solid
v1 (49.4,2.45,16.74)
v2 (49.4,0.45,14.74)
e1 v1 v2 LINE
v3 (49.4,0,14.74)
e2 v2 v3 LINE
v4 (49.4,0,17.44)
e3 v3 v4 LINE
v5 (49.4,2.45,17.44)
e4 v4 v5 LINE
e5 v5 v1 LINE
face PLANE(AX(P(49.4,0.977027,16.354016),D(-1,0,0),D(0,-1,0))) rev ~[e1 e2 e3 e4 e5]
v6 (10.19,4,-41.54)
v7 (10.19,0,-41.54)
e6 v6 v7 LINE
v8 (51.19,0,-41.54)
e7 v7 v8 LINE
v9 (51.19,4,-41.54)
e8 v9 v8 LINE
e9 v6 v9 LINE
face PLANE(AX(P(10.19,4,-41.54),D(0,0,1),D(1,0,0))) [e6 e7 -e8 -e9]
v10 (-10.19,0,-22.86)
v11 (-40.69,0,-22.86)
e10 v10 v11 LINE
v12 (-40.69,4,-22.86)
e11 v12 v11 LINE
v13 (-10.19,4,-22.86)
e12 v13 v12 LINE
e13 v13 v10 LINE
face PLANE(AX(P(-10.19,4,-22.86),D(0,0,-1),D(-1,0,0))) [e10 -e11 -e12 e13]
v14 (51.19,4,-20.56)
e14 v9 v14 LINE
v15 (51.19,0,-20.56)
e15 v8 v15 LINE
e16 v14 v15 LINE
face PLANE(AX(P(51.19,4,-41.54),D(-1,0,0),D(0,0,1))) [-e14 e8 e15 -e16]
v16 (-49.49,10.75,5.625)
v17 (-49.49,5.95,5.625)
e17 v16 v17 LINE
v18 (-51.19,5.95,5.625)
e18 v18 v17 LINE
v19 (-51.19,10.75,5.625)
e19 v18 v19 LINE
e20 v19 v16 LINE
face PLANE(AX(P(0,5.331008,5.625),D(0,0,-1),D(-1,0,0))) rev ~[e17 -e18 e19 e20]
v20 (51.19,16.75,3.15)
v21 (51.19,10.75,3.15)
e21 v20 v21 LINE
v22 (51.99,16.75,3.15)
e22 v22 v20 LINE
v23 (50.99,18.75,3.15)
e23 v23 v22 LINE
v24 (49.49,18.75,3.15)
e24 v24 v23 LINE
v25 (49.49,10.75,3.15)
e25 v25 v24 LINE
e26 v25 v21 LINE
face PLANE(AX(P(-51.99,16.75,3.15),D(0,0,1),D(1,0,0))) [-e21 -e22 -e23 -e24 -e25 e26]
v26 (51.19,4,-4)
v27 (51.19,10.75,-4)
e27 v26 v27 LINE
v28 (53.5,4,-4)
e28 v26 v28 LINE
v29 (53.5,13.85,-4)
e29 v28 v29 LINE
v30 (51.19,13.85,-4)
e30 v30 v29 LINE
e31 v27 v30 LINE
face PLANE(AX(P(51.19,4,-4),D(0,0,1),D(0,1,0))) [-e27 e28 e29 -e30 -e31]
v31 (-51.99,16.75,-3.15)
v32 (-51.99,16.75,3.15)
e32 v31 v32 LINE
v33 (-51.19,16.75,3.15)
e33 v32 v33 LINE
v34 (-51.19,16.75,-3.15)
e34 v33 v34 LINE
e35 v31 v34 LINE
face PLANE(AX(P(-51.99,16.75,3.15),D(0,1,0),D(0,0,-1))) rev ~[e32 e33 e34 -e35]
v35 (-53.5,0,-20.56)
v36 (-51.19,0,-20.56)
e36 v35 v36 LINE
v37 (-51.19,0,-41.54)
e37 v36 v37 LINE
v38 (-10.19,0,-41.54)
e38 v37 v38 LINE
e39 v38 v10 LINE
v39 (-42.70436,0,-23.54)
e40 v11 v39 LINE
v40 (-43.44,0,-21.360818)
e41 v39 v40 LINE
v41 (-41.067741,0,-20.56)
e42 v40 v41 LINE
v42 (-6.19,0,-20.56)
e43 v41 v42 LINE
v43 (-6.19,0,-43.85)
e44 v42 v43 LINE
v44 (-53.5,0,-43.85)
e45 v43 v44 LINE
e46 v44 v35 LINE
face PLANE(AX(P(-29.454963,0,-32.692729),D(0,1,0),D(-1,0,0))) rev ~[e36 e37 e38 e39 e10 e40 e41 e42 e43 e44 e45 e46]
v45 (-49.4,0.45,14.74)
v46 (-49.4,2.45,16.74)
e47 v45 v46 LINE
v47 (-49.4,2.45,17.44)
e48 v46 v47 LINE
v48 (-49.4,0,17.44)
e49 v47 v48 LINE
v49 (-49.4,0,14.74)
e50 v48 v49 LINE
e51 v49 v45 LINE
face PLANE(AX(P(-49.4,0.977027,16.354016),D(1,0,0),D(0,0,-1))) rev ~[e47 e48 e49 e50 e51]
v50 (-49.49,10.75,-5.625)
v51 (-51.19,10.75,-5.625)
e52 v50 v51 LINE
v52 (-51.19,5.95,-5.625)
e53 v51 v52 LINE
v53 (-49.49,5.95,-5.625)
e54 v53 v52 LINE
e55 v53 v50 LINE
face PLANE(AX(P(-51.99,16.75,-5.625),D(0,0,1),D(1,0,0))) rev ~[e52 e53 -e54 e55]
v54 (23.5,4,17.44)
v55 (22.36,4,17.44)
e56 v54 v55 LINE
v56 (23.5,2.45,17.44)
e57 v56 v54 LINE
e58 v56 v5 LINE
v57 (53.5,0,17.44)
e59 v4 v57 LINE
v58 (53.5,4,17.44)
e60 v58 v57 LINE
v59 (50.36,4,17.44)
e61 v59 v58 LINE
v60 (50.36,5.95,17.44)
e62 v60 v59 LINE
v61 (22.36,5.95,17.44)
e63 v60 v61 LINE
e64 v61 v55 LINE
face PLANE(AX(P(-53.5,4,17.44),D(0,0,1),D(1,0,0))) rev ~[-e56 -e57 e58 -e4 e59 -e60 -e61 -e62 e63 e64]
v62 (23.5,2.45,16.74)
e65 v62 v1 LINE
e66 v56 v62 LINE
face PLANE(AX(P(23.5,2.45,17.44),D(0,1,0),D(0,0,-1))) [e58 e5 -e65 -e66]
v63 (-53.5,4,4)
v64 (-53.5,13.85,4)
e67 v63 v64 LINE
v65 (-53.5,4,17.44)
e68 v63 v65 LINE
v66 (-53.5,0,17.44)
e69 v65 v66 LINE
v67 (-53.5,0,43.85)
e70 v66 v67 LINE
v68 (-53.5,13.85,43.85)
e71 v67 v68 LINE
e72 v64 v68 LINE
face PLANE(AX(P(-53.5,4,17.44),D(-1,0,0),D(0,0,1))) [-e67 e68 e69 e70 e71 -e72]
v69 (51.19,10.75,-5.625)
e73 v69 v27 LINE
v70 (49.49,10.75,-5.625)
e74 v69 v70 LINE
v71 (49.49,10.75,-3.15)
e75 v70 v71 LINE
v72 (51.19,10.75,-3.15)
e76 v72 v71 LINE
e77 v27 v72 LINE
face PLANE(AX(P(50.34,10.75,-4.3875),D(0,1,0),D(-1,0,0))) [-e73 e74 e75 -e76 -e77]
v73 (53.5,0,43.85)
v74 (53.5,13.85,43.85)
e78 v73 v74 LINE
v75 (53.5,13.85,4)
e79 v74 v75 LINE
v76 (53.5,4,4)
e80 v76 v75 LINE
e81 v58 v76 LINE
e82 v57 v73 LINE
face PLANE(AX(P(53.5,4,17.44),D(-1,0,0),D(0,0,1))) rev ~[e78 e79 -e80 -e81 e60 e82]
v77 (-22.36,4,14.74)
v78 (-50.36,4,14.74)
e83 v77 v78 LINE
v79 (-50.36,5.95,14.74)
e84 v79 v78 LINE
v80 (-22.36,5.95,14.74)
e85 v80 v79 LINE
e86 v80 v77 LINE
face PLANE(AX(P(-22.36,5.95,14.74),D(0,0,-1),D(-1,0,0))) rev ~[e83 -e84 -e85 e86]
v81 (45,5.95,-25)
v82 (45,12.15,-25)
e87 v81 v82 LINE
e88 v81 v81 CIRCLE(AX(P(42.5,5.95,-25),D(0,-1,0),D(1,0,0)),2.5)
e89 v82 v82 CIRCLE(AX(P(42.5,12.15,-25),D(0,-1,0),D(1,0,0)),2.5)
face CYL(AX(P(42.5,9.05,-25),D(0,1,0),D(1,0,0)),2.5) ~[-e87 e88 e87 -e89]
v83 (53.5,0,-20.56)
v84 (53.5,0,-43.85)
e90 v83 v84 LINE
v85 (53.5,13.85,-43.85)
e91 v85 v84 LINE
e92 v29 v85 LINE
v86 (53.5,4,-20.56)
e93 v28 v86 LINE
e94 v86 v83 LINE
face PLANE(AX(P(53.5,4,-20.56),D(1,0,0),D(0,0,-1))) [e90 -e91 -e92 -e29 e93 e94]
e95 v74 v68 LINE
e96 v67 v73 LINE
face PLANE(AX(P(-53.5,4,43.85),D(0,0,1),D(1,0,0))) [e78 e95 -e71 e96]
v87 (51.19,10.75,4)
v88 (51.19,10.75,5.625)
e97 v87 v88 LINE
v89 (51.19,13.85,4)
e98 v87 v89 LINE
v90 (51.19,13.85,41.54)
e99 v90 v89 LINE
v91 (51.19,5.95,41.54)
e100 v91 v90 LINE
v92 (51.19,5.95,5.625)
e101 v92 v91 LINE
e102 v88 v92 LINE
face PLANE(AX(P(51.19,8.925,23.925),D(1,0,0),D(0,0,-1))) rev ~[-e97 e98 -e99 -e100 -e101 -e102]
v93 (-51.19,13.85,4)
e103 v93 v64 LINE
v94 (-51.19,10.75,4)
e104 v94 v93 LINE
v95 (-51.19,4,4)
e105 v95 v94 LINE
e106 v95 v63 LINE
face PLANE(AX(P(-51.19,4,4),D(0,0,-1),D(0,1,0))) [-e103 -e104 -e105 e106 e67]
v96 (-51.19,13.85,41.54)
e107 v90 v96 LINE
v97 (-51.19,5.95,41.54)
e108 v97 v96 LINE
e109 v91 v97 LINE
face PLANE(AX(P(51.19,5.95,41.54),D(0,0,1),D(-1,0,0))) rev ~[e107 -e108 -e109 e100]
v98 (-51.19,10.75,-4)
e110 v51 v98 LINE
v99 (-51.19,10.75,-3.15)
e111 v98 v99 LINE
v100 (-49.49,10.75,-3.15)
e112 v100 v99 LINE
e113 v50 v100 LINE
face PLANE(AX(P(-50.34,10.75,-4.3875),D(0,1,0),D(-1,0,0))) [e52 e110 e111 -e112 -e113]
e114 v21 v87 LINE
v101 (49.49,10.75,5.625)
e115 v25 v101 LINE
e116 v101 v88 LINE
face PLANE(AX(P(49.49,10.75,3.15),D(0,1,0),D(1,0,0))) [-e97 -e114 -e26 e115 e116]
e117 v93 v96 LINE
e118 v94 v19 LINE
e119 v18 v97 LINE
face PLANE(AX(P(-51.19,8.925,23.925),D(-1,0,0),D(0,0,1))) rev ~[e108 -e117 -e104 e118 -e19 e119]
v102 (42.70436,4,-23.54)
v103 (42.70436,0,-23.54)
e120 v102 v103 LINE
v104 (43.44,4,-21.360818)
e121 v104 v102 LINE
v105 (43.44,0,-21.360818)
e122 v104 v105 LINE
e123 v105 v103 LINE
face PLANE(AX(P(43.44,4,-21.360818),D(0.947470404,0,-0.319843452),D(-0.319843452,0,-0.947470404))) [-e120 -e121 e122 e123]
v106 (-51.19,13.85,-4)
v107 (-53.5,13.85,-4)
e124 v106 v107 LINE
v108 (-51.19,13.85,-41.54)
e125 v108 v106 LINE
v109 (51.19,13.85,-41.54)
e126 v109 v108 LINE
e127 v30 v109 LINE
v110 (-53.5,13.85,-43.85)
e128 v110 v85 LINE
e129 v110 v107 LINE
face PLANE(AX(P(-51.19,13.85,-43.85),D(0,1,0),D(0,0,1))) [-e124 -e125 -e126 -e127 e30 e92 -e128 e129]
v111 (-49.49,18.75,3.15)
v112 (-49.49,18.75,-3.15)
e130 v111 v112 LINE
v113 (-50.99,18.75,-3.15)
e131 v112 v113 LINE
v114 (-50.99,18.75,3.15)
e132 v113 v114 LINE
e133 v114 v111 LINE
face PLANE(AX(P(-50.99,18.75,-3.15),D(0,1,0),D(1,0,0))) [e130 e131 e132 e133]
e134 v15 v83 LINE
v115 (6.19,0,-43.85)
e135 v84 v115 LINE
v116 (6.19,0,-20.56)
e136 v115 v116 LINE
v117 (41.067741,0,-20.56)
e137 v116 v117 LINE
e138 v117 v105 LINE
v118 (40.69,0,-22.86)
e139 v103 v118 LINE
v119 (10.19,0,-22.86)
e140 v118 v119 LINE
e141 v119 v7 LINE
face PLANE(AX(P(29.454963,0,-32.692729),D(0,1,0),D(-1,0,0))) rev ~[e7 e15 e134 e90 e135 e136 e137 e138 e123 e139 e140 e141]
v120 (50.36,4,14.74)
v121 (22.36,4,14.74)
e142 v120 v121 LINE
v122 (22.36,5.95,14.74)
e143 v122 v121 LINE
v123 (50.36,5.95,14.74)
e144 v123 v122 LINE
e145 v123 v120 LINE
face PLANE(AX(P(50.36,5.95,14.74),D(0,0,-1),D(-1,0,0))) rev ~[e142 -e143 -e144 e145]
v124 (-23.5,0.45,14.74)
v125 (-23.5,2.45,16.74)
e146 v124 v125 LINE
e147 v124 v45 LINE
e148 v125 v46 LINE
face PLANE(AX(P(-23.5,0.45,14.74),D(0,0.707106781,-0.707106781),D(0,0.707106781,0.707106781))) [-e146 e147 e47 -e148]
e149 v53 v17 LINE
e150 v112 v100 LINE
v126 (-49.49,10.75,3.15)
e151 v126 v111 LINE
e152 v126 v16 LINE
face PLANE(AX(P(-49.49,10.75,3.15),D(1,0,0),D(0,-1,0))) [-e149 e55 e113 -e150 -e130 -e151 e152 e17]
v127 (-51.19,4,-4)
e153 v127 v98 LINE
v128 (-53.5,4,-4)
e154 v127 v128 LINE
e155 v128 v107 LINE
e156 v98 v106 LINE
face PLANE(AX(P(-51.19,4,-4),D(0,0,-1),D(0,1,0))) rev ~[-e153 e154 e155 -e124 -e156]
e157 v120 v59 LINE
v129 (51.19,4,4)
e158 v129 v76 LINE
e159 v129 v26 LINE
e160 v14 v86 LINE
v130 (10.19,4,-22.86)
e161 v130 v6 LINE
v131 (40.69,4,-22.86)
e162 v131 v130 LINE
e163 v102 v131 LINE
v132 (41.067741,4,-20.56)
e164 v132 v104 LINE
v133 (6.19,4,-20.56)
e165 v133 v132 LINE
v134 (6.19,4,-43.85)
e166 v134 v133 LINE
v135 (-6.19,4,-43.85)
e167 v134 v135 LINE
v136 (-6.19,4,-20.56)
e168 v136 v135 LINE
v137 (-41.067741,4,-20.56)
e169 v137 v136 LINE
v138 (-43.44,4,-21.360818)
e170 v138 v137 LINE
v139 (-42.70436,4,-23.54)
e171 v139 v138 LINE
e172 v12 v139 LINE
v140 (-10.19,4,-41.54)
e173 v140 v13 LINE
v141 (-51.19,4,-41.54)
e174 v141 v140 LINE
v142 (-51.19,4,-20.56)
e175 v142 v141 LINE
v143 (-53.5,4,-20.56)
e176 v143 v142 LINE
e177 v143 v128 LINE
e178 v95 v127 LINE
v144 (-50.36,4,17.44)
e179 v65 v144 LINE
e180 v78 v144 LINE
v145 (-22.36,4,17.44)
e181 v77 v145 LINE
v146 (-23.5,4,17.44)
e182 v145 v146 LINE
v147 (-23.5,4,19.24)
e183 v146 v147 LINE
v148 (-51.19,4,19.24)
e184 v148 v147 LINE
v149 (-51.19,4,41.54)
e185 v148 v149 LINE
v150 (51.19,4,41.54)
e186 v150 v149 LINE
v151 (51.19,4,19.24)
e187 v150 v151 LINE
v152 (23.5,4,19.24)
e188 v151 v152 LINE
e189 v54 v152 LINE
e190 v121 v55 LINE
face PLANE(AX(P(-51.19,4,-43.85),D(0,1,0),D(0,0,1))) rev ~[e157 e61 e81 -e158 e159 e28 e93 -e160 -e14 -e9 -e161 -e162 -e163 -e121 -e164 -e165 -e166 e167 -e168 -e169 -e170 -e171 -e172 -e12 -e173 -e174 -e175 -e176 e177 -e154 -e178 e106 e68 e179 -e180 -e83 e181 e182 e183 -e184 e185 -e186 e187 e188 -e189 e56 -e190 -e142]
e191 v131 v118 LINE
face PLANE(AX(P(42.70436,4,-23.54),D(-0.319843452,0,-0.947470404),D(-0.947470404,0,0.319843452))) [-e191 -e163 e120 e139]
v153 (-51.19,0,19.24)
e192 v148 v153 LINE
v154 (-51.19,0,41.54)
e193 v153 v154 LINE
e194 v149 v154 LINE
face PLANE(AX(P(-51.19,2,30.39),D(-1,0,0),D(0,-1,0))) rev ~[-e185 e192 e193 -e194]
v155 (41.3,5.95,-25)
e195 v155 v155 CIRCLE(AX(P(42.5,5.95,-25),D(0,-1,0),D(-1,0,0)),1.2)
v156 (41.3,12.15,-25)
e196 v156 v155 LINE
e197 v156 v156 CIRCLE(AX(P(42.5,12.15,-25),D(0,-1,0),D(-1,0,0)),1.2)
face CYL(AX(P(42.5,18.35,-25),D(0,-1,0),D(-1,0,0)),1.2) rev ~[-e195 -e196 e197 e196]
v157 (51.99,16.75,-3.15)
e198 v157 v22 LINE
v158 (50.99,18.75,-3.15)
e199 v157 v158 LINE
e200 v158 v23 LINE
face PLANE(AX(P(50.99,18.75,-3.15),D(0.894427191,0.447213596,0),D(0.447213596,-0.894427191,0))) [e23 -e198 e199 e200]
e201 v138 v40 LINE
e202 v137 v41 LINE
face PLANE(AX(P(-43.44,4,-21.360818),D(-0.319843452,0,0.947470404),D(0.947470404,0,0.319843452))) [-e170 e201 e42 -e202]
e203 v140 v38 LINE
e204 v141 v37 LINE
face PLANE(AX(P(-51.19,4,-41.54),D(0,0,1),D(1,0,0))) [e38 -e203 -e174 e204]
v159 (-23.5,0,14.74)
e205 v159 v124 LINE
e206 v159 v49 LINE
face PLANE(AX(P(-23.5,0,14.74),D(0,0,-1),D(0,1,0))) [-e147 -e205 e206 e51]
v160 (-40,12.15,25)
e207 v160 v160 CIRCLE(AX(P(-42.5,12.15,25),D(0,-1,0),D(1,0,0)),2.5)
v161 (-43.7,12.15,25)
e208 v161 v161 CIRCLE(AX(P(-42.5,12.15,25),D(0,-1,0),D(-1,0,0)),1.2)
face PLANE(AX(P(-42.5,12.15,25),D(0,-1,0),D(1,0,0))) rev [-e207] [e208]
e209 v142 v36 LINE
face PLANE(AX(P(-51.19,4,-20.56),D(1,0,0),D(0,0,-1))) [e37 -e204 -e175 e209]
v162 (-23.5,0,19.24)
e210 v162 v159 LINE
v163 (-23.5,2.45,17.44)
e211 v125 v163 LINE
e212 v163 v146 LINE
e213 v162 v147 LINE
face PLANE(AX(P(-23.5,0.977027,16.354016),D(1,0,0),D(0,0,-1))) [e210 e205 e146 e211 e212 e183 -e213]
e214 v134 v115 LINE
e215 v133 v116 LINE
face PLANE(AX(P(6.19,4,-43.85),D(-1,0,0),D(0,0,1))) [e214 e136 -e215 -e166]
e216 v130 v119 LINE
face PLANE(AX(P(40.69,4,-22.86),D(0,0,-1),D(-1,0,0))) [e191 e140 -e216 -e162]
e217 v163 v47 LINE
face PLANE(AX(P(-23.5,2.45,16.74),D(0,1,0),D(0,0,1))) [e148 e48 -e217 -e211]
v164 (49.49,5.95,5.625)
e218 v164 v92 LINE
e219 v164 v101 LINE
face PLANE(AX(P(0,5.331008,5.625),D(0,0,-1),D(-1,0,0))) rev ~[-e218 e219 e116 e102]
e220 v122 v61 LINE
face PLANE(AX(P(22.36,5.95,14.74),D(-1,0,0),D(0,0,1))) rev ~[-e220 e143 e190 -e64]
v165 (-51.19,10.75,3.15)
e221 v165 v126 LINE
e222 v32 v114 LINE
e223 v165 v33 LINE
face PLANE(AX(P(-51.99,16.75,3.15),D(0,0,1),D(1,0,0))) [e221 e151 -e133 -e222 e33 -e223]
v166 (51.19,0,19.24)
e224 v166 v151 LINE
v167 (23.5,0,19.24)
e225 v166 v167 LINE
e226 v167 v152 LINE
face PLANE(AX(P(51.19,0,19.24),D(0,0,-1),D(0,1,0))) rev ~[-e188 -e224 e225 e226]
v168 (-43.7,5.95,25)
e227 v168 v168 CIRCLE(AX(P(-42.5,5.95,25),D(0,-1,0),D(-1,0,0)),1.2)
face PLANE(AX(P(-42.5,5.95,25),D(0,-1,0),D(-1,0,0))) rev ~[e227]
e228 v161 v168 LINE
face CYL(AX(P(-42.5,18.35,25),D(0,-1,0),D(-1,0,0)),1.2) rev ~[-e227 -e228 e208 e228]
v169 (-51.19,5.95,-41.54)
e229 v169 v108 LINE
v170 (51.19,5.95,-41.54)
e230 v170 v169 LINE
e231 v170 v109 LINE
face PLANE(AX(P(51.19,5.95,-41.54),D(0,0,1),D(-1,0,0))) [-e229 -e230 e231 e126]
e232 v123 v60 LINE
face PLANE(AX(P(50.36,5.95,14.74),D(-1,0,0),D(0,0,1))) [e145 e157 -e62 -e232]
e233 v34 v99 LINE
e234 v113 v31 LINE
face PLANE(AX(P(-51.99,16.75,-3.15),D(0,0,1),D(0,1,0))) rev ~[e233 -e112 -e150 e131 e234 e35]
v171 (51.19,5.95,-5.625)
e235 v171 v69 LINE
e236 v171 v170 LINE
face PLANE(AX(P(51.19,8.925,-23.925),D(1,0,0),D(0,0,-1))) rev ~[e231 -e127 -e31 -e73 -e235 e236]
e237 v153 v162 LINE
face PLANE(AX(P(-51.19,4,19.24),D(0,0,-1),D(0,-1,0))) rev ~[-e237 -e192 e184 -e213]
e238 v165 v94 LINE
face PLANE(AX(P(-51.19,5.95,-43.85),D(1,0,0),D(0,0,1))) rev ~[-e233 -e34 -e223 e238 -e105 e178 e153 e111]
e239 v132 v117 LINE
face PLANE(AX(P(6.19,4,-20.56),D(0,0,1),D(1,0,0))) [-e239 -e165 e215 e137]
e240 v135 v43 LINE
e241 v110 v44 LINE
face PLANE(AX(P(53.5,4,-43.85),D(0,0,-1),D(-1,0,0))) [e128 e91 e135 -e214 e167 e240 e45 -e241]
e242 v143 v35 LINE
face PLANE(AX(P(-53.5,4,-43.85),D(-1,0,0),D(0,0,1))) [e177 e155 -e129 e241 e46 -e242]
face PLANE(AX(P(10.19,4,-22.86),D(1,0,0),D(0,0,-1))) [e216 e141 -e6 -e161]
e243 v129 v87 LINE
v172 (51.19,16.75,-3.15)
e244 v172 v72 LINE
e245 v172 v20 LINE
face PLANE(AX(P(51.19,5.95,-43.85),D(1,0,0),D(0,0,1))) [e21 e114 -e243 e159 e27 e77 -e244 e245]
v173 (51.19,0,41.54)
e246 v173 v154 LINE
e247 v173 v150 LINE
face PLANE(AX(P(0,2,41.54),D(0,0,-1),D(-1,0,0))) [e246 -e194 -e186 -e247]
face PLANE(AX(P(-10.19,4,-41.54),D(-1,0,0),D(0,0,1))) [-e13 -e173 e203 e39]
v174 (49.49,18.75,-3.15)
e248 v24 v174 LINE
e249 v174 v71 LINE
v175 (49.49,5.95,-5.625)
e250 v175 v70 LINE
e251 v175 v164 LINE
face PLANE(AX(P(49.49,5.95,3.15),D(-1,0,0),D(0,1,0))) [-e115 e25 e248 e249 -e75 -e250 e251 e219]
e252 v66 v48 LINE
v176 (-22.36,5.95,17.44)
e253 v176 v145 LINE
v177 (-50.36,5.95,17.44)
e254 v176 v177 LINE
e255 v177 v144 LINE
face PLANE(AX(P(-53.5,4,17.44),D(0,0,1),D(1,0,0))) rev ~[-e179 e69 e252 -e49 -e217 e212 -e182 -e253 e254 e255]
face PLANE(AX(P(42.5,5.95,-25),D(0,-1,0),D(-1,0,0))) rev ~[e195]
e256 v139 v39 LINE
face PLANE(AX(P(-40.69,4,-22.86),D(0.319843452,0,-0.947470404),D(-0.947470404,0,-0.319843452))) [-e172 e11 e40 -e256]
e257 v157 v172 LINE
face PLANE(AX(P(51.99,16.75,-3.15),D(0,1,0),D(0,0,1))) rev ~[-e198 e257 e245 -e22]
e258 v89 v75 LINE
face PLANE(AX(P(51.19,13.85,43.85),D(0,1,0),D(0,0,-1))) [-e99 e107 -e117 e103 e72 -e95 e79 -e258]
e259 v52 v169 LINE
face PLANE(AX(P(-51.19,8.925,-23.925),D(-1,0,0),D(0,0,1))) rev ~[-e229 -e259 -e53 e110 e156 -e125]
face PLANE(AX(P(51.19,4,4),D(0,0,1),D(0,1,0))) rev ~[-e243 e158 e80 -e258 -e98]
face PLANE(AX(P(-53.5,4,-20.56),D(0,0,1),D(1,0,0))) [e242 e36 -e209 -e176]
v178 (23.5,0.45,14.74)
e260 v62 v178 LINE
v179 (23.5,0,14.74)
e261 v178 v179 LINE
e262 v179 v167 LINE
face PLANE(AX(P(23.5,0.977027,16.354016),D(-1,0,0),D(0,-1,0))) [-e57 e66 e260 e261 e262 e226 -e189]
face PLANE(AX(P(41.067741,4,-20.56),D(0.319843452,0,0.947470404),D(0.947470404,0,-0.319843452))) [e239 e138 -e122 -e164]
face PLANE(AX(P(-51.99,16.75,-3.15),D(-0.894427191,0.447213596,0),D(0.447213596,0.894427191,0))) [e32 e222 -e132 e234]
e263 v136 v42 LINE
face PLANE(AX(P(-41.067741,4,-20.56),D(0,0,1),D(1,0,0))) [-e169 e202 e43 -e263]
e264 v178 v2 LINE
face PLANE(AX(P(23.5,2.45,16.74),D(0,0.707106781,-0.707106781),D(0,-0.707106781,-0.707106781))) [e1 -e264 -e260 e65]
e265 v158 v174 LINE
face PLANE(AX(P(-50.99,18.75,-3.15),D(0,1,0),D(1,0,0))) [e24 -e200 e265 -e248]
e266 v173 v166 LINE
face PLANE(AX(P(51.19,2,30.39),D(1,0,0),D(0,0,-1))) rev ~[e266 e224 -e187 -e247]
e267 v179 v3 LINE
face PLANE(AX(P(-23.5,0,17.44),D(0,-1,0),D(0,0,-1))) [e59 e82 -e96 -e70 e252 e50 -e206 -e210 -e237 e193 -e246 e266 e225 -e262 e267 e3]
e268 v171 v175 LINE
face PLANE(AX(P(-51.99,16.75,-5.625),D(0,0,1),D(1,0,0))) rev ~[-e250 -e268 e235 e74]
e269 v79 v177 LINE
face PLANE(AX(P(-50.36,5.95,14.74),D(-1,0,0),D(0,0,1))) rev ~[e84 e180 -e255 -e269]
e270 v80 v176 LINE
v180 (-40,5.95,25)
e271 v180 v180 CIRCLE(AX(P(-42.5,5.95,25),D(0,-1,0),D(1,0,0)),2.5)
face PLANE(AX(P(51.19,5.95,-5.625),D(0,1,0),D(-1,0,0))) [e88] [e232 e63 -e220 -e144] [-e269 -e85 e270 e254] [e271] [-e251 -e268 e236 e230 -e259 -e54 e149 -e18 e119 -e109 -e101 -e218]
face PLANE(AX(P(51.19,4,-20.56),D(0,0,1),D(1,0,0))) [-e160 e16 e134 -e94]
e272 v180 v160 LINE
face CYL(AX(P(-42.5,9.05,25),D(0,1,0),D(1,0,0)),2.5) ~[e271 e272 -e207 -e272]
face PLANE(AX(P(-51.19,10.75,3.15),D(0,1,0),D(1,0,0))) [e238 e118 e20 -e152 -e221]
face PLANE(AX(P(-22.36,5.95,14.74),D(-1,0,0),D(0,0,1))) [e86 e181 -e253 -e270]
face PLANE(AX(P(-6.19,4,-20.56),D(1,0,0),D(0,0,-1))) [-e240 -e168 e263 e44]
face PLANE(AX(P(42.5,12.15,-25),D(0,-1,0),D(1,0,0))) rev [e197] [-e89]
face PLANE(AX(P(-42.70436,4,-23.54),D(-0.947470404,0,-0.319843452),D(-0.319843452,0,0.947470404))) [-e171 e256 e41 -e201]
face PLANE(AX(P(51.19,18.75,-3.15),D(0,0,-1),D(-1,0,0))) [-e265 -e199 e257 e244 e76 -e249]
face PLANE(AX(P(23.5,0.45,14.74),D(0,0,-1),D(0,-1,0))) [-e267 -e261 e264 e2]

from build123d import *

# Parameters (mm, degrees)
CROQUIS1_W                          = 103.98
CROQUIS1_H                          = 2.475
SALIENTE_EXTRUIR1_DEPTH             = 2
SALIENTE_EXTRUIR2_DEPTH             = 6.3
CROQUIS3_W                          = 103.98
CROQUIS3_H                          = 8.775
SALIENTE_EXTRUIR3_DEPTH             = 12.75
CORTAR_EXTRUIR1_DEPTH               = 0.8
CORTAR_EXTRUIR2_DEPTH               = 0.8
CROQUIS6_W                          = 8.775
CROQUIS6_H                          = 12.8
CORTAR_EXTRUIR3_DEPTH               = 98.98
CROQUIS7_W                          = 1.7
CROQUIS7_H                          = 2.475
CORTAR_EXTRUIR4_DEPTH               = 2
CROQUIS8_W                          = 1.7
CROQUIS8_H                          = 2.475
CORTAR_EXTRUIR5_DEPTH               = 6
CROQUIS9_W                          = 1.7
CROQUIS9_H                          = 2.475
CORTAR_EXTRUIR6_DEPTH               = 6
SALIENTE_EXTRUIR4_DEPTH             = 2.475
CROQUIS11_W                         = 102.38
CROQUIS11_H                         = 1.95
SALIENTE_EXTRUIR5_DEPTH             = 38.225
CROQUIS12_W                         = 102.38
CROQUIS12_H                         = 2.31
SALIENTE_EXTRUIR6_DEPTH             = 7.9
CROQUIS13_W                         = 102.38
CROQUIS13_H                         = 1.95
SALIENTE_EXTRUIR7_DEPTH             = 38.225
CROQUIS14_W                         = 39.85
CROQUIS14_H                         = 9.85
SALIENTE_EXTRUIR8_DEPTH             = 2.31
CROQUIS15_W                         = 39.85
CROQUIS15_H                         = 9.85
SALIENTE_EXTRUIR9_DEPTH             = 2.31
CROQUIS16_W                         = 28
CROQUIS16_H                         = 2.7
CORTAR_EXTRUIR7_DEPTH               = 2.95
CROQUIS17_W                         = 28
CROQUIS17_H                         = 2.7
CORTAR_EXTRUIR8_DEPTH               = 2.95
CROQUIS18_W                         = 107
CROQUIS18_H                         = 26.41
SALIENTE_EXTRUIR10_DEPTH            = 4
CROQUIS19_W                         = 102.38
CROQUIS19_H                         = 2.31
SALIENTE_EXTRUIR11_DEPTH            = 7.9
CROQUIS20_W                         = 39.85
CROQUIS20_H                         = 9.85
SALIENTE_EXTRUIR12_DEPTH            = 2.31
CROQUIS21_W                         = 39.85
CROQUIS21_H                         = 9.85
SALIENTE_EXTRUIR13_DEPTH            = 2.31
SALIENTE_EXTRUIR14_DEPTH            = 4
SALIENTE_EXTRUIR15_DEPTH            = 4
CROQUIS24_W                         = 47
CROQUIS24_H                         = 4
CORTAR_EXTRUIR9_DEPTH               = 24.1
CORTAR_EXTRUIR10_REACH              = 106.69
CROQUIS25_W                         = 22.3
CROQUIS25_H                         = 4
CORTAR_EXTRUIR11_REACH              = 106.69
CROQUIS26_W                         = 4
CROQUIS26_H                         = 22.3
SALIENTE_EXTRUIR16_DEPTH            = 25.9
SALIENTE_EXTRUIR17_DEPTH            = 25.9
CROQUIS29_W                         = 2.5
CROQUIS29_H                         = 6.2
CROQUIS30_W                         = 2.5
CROQUIS30_H                         = 6.2
DI_METRO_DE_TALADRO_2_4_2_4_1_D     = 2.4
DI_METRO_DE_TALADRO_2_4_2_4_1_DEPTH = 6.2


with BuildPart() as part:
    # Croquis1 → Saliente-Extruir1 (new body)
    with BuildSketch(Plane(origin=(0, 18.75, 0), x_dir=(1, 0, 0), z_dir=(0, 1, 0))):
        with Locations((0, 4.3875)):
            Rectangle(CROQUIS1_W, CROQUIS1_H)
    extrude(amount=-SALIENTE_EXTRUIR1_DEPTH)

    # Croquis2 → Saliente-Extruir2 (add)
    with BuildSketch(Plane.XY.offset(-3.15)):
        Polygon((-51.99, 16.75), (-50.99, 18.75), (50.99, 18.75), (51.99, 16.75), align=None)
    extrude(amount=SALIENTE_EXTRUIR2_DEPTH)

    # Croquis3 → Saliente-Extruir3 (add)
    with BuildSketch(Plane.XZ.offset(-16.75)):
        with Locations((0, -1.2375)):
            Rectangle(CROQUIS3_W, CROQUIS3_H)
    extrude(amount=SALIENTE_EXTRUIR3_DEPTH)

    # Croquis4 → Cortar-Extruir1 (cut)
    with BuildSketch(Plane(origin=(51.99, 0, 0), x_dir=(0, 0, -1), z_dir=(1, 0, 0))):
        Polygon((5.625, 4), (5.625, 18.75), (3.15, 18.75), (3.15, 18.35), (3.15, 16.75), (-3.15, 16.75), (-3.15, 4), align=None)
    extrude(amount=-CORTAR_EXTRUIR1_DEPTH, mode=Mode.SUBTRACT)

    # Croquis5 → Cortar-Extruir2 (cut)
    with BuildSketch(Plane.ZY.offset(51.99)):
        Polygon((-5.625, 4), (3.15, 4), (3.15, 16.75), (-3.15, 16.75), (-3.15, 18.35), (-3.15, 18.75), (-5.625, 18.75), align=None)
    extrude(amount=-CORTAR_EXTRUIR2_DEPTH, mode=Mode.SUBTRACT)

    # Croquis6 → Cortar-Extruir3 (cut)
    with BuildSketch(Plane(origin=(49.49, 0, 0), x_dir=(0, 0, -1), z_dir=(1, 0, 0))):
        with Locations((1.2375, 12.35)):
            Rectangle(CROQUIS6_W, CROQUIS6_H)
    extrude(amount=-CORTAR_EXTRUIR3_DEPTH, mode=Mode.SUBTRACT)

    # Croquis7 → Cortar-Extruir4 (cut)
    with BuildSketch(Plane(origin=(0, 18.75, 0), x_dir=(-1, 0, 0), z_dir=(0, 1, 0))):
        with Locations((50.34, -4.3875)):
            Rectangle(CROQUIS7_W, CROQUIS7_H)
        with Locations((-50.34, -4.3875)):
            Rectangle(CROQUIS7_W, CROQUIS7_H)
    extrude(amount=-CORTAR_EXTRUIR4_DEPTH, mode=Mode.SUBTRACT)

    # Croquis8 → Cortar-Extruir5 (cut)
    with BuildSketch(Plane(origin=(0, 16.75, 0), x_dir=(-1, 0, 0), z_dir=(0, 1, 0))):
        with Locations((-50.34, -4.3875)):
            Rectangle(CROQUIS8_W, CROQUIS8_H)
    extrude(amount=-CORTAR_EXTRUIR5_DEPTH, mode=Mode.SUBTRACT)

    # Croquis9 → Cortar-Extruir6 (cut)
    with BuildSketch(Plane(origin=(0, 16.75, 0), x_dir=(-1, 0, 0), z_dir=(0, 1, 0))):
        with Locations((50.34, -4.3875)):
            Rectangle(CROQUIS9_W, CROQUIS9_H)
    extrude(amount=-CORTAR_EXTRUIR6_DEPTH, mode=Mode.SUBTRACT)

    # Croquis10 → Saliente-Extruir4 (add)
    with BuildSketch(Plane.XY.offset(3.15)):
        Polygon((49.49, 5.95), (49.49, 10.75), (51.19, 10.75), (51.19, 4), (-51.19, 4), (-51.19, 10.75), (-49.49, 10.75), (-49.49, 5.95), align=None)
    extrude(amount=SALIENTE_EXTRUIR4_DEPTH)

    # Croquis11 → Saliente-Extruir5 (add)
    with BuildSketch(Plane.XY.offset(5.625)):
        with Locations((0, 4.975)):
            Rectangle(CROQUIS11_W, CROQUIS11_H)
    extrude(amount=SALIENTE_EXTRUIR5_DEPTH)

    # Croquis12 → Saliente-Extruir6 (add)
    with BuildSketch(Plane(origin=(0, 5.95, 0), x_dir=(-1, 0, 0), z_dir=(0, 1, 0))):
        with Locations((0, 42.695)):
            Rectangle(CROQUIS12_W, CROQUIS12_H)
    extrude(amount=SALIENTE_EXTRUIR6_DEPTH)

    # Croquis13 → Saliente-Extruir7 (add)
    with BuildSketch(Plane(origin=(0, 0, -5.625), x_dir=(-1, 0, 0), z_dir=(0, 0, -1))):
        with Locations((0, 4.975)):
            Rectangle(CROQUIS13_W, CROQUIS13_H)
    extrude(amount=SALIENTE_EXTRUIR7_DEPTH)

    # Croquis14 → Saliente-Extruir8 (add)
    with BuildSketch(Plane.ZY.offset(51.19)):
        with Locations((23.925, 8.925)):
            Rectangle(CROQUIS14_W, CROQUIS14_H)
    extrude(amount=SALIENTE_EXTRUIR8_DEPTH)

    # Croquis15 → Saliente-Extruir9 (add)
    with BuildSketch(Plane(origin=(51.19, 0, 0), x_dir=(0, 0, -1), z_dir=(1, 0, 0))):
        with Locations((-23.925, 8.925)):
            Rectangle(CROQUIS15_W, CROQUIS15_H)
    extrude(amount=SALIENTE_EXTRUIR9_DEPTH)

    # Croquis16 → Cortar-Extruir7 (cut, through all)
    with BuildSketch(Plane(origin=(0, 5.95, 0), x_dir=(-1, 0, 0), z_dir=(0, 1, 0))):
        with Locations((36.36, 16.09)):
            Rectangle(CROQUIS16_W, CROQUIS16_H)
    extrude(amount=-CORTAR_EXTRUIR7_DEPTH, mode=Mode.SUBTRACT)

    # Croquis17 → Cortar-Extruir8 (cut, through all)
    with BuildSketch(Plane(origin=(0, 5.95, 0), x_dir=(-1, 0, 0), z_dir=(0, 1, 0))):
        with Locations((-36.36, 16.09)):
            Rectangle(CROQUIS17_W, CROQUIS17_H)
    extrude(amount=-CORTAR_EXTRUIR8_DEPTH, mode=Mode.SUBTRACT)

    # Croquis18 → Saliente-Extruir10 (add)
    with BuildSketch(Plane.XZ.offset(-4)):
        with Locations((0, 30.645)):
            Rectangle(CROQUIS18_W, CROQUIS18_H)
    extrude(amount=SALIENTE_EXTRUIR10_DEPTH)

    # Croquis19 → Saliente-Extruir11 (add)
    with BuildSketch(Plane(origin=(0, 5.95, 0), x_dir=(-1, 0, 0), z_dir=(0, 1, 0))):
        with Locations((0, -42.695)):
            Rectangle(CROQUIS19_W, CROQUIS19_H)
    extrude(amount=SALIENTE_EXTRUIR11_DEPTH)

    # Croquis20 → Saliente-Extruir12 (add)
    with BuildSketch(Plane(origin=(51.19, 0, 0), x_dir=(0, 0, -1), z_dir=(1, 0, 0))):
        with Locations((23.925, 8.925)):
            Rectangle(CROQUIS20_W, CROQUIS20_H)
    extrude(amount=SALIENTE_EXTRUIR12_DEPTH)

    # Croquis21 → Saliente-Extruir13 (add)
    with BuildSketch(Plane.ZY.offset(51.19)):
        with Locations((-23.925, 8.925)):
            Rectangle(CROQUIS21_W, CROQUIS21_H)
    extrude(amount=SALIENTE_EXTRUIR13_DEPTH)

    # Croquis22 → Saliente-Extruir14 (add)
    with BuildSketch(Plane.XZ.offset(-4)):
        Polygon((-53.5, -43.85), (-53.5, -20.56), (-51.19, -20.56), (-51.19, -41.54), (-10.19, -41.54), (-10.19, -22.86), (-40.69, -22.86), (-42.704360061, -23.54), (-43.44, -21.360818071), (-41.067741267, -20.56), (-6.19, -20.56), (-6.19, -43.85), align=None)
    extrude(amount=SALIENTE_EXTRUIR14_DEPTH)

    # Croquis23 → Saliente-Extruir15 (add)
    with BuildSketch(Plane.XZ.offset(-4)):
        Polygon((53.5, -43.85), (6.19, -43.85), (6.19, -20.56), (41.067741267, -20.56), (43.44, -21.360818071), (42.704360061, -23.54), (40.69, -22.86), (10.19, -22.86), (10.19, -41.54), (51.19, -41.54), (51.19, -20.56), (53.5, -20.56), align=None)
    extrude(amount=SALIENTE_EXTRUIR15_DEPTH)

    # Croquis24 → Cortar-Extruir9 (cut)
    with BuildSketch(Plane(origin=(0, 0, 17.44), x_dir=(-1, 0, 0), z_dir=(0, 0, -1))):
        with Locations((0, 2)):
            Rectangle(CROQUIS24_W, CROQUIS24_H)
    extrude(amount=-CORTAR_EXTRUIR9_DEPTH, mode=Mode.SUBTRACT)

    # Croquis25 → Cortar-Extruir10 (cut, up to next)
    with BuildSketch(Plane(origin=(51.19, 0, 0), x_dir=(0, 0, -1), z_dir=(1, 0, 0)), mode=Mode.PRIVATE) as cortar_extruir10_sk1:
        with Locations((-30.39, 2)):
            Rectangle(CROQUIS25_W, CROQUIS25_H)
    cortar_extruir10_tool1 = extrude(cortar_extruir10_sk1.sketch, amount=-CORTAR_EXTRUIR10_REACH, mode=Mode.PRIVATE) & part.part
    add(cortar_extruir10_tool1.solids().sort_by_distance((51.19, 2, 30.39))[0], mode=Mode.SUBTRACT)

    # Croquis26 → Cortar-Extruir11 (cut, up to next)
    with BuildSketch(Plane(origin=(-51.19, 0, 0), x_dir=(0, -1, 0), z_dir=(-1, 0, 0)), mode=Mode.PRIVATE) as cortar_extruir11_sk1:
        with Locations((-2, 30.39)):
            Rectangle(CROQUIS26_W, CROQUIS26_H)
    cortar_extruir11_tool1 = extrude(cortar_extruir11_sk1.sketch, amount=-CORTAR_EXTRUIR11_REACH, mode=Mode.PRIVATE) & part.part
    add(cortar_extruir11_tool1.solids().sort_by_distance((-51.19, 2, 30.39))[0], mode=Mode.SUBTRACT)

    # Croquis27 → Saliente-Extruir16 (add)
    with BuildSketch(Plane(origin=(23.5, 0, 0), x_dir=(0, -1, 0), z_dir=(-1, 0, 0))):
        Polygon((-2.45, 16.74), (-0.45, 14.74), (0, 14.74), (0, 17.44), (-2.45, 17.44), align=None)
    extrude(amount=-SALIENTE_EXTRUIR16_DEPTH)

    # Croquis28 → Saliente-Extruir17 (add)
    with BuildSketch(Plane(origin=(-23.5, 0, 0), x_dir=(0, 0, -1), z_dir=(1, 0, 0))):
        Polygon((-14.74, 0.45), (-16.74, 2.45), (-17.44, 2.45), (-17.44, 0), (-14.74, 0), align=None)
    extrude(amount=-SALIENTE_EXTRUIR17_DEPTH)

    # Croquis29 → Revolución1 (revolve)
    with BuildSketch(Plane.XY.offset(25)):
        with Locations((-41.25, 9.05)):
            Rectangle(CROQUIS29_W, CROQUIS29_H)
    revolve(axis=Axis((-42.5, 12.15, 25), (0, -1, 0)))

    # Croquis30 → Revolución2 (revolve)
    with BuildSketch(Plane.XY.offset(-25)):
        with Locations((43.75, 9.05)):
            Rectangle(CROQUIS30_W, CROQUIS30_H)
    revolve(axis=Axis((42.5, 12.15, -25), (0, -1, 0)))

    # Diámetro de taladro Ø2.4 (2.4)1
    with Locations(Plane(origin=(0, 12.15, 0), x_dir=(1, 0, 0), z_dir=(0, 1, 0))):
        with Locations((42.5, 25), (-42.5, -25)):
            Hole(DI_METRO_DE_TALADRO_2_4_2_4_1_D / 2, depth=DI_METRO_DE_TALADRO_2_4_2_4_1_DEPTH)


solid = part.part
